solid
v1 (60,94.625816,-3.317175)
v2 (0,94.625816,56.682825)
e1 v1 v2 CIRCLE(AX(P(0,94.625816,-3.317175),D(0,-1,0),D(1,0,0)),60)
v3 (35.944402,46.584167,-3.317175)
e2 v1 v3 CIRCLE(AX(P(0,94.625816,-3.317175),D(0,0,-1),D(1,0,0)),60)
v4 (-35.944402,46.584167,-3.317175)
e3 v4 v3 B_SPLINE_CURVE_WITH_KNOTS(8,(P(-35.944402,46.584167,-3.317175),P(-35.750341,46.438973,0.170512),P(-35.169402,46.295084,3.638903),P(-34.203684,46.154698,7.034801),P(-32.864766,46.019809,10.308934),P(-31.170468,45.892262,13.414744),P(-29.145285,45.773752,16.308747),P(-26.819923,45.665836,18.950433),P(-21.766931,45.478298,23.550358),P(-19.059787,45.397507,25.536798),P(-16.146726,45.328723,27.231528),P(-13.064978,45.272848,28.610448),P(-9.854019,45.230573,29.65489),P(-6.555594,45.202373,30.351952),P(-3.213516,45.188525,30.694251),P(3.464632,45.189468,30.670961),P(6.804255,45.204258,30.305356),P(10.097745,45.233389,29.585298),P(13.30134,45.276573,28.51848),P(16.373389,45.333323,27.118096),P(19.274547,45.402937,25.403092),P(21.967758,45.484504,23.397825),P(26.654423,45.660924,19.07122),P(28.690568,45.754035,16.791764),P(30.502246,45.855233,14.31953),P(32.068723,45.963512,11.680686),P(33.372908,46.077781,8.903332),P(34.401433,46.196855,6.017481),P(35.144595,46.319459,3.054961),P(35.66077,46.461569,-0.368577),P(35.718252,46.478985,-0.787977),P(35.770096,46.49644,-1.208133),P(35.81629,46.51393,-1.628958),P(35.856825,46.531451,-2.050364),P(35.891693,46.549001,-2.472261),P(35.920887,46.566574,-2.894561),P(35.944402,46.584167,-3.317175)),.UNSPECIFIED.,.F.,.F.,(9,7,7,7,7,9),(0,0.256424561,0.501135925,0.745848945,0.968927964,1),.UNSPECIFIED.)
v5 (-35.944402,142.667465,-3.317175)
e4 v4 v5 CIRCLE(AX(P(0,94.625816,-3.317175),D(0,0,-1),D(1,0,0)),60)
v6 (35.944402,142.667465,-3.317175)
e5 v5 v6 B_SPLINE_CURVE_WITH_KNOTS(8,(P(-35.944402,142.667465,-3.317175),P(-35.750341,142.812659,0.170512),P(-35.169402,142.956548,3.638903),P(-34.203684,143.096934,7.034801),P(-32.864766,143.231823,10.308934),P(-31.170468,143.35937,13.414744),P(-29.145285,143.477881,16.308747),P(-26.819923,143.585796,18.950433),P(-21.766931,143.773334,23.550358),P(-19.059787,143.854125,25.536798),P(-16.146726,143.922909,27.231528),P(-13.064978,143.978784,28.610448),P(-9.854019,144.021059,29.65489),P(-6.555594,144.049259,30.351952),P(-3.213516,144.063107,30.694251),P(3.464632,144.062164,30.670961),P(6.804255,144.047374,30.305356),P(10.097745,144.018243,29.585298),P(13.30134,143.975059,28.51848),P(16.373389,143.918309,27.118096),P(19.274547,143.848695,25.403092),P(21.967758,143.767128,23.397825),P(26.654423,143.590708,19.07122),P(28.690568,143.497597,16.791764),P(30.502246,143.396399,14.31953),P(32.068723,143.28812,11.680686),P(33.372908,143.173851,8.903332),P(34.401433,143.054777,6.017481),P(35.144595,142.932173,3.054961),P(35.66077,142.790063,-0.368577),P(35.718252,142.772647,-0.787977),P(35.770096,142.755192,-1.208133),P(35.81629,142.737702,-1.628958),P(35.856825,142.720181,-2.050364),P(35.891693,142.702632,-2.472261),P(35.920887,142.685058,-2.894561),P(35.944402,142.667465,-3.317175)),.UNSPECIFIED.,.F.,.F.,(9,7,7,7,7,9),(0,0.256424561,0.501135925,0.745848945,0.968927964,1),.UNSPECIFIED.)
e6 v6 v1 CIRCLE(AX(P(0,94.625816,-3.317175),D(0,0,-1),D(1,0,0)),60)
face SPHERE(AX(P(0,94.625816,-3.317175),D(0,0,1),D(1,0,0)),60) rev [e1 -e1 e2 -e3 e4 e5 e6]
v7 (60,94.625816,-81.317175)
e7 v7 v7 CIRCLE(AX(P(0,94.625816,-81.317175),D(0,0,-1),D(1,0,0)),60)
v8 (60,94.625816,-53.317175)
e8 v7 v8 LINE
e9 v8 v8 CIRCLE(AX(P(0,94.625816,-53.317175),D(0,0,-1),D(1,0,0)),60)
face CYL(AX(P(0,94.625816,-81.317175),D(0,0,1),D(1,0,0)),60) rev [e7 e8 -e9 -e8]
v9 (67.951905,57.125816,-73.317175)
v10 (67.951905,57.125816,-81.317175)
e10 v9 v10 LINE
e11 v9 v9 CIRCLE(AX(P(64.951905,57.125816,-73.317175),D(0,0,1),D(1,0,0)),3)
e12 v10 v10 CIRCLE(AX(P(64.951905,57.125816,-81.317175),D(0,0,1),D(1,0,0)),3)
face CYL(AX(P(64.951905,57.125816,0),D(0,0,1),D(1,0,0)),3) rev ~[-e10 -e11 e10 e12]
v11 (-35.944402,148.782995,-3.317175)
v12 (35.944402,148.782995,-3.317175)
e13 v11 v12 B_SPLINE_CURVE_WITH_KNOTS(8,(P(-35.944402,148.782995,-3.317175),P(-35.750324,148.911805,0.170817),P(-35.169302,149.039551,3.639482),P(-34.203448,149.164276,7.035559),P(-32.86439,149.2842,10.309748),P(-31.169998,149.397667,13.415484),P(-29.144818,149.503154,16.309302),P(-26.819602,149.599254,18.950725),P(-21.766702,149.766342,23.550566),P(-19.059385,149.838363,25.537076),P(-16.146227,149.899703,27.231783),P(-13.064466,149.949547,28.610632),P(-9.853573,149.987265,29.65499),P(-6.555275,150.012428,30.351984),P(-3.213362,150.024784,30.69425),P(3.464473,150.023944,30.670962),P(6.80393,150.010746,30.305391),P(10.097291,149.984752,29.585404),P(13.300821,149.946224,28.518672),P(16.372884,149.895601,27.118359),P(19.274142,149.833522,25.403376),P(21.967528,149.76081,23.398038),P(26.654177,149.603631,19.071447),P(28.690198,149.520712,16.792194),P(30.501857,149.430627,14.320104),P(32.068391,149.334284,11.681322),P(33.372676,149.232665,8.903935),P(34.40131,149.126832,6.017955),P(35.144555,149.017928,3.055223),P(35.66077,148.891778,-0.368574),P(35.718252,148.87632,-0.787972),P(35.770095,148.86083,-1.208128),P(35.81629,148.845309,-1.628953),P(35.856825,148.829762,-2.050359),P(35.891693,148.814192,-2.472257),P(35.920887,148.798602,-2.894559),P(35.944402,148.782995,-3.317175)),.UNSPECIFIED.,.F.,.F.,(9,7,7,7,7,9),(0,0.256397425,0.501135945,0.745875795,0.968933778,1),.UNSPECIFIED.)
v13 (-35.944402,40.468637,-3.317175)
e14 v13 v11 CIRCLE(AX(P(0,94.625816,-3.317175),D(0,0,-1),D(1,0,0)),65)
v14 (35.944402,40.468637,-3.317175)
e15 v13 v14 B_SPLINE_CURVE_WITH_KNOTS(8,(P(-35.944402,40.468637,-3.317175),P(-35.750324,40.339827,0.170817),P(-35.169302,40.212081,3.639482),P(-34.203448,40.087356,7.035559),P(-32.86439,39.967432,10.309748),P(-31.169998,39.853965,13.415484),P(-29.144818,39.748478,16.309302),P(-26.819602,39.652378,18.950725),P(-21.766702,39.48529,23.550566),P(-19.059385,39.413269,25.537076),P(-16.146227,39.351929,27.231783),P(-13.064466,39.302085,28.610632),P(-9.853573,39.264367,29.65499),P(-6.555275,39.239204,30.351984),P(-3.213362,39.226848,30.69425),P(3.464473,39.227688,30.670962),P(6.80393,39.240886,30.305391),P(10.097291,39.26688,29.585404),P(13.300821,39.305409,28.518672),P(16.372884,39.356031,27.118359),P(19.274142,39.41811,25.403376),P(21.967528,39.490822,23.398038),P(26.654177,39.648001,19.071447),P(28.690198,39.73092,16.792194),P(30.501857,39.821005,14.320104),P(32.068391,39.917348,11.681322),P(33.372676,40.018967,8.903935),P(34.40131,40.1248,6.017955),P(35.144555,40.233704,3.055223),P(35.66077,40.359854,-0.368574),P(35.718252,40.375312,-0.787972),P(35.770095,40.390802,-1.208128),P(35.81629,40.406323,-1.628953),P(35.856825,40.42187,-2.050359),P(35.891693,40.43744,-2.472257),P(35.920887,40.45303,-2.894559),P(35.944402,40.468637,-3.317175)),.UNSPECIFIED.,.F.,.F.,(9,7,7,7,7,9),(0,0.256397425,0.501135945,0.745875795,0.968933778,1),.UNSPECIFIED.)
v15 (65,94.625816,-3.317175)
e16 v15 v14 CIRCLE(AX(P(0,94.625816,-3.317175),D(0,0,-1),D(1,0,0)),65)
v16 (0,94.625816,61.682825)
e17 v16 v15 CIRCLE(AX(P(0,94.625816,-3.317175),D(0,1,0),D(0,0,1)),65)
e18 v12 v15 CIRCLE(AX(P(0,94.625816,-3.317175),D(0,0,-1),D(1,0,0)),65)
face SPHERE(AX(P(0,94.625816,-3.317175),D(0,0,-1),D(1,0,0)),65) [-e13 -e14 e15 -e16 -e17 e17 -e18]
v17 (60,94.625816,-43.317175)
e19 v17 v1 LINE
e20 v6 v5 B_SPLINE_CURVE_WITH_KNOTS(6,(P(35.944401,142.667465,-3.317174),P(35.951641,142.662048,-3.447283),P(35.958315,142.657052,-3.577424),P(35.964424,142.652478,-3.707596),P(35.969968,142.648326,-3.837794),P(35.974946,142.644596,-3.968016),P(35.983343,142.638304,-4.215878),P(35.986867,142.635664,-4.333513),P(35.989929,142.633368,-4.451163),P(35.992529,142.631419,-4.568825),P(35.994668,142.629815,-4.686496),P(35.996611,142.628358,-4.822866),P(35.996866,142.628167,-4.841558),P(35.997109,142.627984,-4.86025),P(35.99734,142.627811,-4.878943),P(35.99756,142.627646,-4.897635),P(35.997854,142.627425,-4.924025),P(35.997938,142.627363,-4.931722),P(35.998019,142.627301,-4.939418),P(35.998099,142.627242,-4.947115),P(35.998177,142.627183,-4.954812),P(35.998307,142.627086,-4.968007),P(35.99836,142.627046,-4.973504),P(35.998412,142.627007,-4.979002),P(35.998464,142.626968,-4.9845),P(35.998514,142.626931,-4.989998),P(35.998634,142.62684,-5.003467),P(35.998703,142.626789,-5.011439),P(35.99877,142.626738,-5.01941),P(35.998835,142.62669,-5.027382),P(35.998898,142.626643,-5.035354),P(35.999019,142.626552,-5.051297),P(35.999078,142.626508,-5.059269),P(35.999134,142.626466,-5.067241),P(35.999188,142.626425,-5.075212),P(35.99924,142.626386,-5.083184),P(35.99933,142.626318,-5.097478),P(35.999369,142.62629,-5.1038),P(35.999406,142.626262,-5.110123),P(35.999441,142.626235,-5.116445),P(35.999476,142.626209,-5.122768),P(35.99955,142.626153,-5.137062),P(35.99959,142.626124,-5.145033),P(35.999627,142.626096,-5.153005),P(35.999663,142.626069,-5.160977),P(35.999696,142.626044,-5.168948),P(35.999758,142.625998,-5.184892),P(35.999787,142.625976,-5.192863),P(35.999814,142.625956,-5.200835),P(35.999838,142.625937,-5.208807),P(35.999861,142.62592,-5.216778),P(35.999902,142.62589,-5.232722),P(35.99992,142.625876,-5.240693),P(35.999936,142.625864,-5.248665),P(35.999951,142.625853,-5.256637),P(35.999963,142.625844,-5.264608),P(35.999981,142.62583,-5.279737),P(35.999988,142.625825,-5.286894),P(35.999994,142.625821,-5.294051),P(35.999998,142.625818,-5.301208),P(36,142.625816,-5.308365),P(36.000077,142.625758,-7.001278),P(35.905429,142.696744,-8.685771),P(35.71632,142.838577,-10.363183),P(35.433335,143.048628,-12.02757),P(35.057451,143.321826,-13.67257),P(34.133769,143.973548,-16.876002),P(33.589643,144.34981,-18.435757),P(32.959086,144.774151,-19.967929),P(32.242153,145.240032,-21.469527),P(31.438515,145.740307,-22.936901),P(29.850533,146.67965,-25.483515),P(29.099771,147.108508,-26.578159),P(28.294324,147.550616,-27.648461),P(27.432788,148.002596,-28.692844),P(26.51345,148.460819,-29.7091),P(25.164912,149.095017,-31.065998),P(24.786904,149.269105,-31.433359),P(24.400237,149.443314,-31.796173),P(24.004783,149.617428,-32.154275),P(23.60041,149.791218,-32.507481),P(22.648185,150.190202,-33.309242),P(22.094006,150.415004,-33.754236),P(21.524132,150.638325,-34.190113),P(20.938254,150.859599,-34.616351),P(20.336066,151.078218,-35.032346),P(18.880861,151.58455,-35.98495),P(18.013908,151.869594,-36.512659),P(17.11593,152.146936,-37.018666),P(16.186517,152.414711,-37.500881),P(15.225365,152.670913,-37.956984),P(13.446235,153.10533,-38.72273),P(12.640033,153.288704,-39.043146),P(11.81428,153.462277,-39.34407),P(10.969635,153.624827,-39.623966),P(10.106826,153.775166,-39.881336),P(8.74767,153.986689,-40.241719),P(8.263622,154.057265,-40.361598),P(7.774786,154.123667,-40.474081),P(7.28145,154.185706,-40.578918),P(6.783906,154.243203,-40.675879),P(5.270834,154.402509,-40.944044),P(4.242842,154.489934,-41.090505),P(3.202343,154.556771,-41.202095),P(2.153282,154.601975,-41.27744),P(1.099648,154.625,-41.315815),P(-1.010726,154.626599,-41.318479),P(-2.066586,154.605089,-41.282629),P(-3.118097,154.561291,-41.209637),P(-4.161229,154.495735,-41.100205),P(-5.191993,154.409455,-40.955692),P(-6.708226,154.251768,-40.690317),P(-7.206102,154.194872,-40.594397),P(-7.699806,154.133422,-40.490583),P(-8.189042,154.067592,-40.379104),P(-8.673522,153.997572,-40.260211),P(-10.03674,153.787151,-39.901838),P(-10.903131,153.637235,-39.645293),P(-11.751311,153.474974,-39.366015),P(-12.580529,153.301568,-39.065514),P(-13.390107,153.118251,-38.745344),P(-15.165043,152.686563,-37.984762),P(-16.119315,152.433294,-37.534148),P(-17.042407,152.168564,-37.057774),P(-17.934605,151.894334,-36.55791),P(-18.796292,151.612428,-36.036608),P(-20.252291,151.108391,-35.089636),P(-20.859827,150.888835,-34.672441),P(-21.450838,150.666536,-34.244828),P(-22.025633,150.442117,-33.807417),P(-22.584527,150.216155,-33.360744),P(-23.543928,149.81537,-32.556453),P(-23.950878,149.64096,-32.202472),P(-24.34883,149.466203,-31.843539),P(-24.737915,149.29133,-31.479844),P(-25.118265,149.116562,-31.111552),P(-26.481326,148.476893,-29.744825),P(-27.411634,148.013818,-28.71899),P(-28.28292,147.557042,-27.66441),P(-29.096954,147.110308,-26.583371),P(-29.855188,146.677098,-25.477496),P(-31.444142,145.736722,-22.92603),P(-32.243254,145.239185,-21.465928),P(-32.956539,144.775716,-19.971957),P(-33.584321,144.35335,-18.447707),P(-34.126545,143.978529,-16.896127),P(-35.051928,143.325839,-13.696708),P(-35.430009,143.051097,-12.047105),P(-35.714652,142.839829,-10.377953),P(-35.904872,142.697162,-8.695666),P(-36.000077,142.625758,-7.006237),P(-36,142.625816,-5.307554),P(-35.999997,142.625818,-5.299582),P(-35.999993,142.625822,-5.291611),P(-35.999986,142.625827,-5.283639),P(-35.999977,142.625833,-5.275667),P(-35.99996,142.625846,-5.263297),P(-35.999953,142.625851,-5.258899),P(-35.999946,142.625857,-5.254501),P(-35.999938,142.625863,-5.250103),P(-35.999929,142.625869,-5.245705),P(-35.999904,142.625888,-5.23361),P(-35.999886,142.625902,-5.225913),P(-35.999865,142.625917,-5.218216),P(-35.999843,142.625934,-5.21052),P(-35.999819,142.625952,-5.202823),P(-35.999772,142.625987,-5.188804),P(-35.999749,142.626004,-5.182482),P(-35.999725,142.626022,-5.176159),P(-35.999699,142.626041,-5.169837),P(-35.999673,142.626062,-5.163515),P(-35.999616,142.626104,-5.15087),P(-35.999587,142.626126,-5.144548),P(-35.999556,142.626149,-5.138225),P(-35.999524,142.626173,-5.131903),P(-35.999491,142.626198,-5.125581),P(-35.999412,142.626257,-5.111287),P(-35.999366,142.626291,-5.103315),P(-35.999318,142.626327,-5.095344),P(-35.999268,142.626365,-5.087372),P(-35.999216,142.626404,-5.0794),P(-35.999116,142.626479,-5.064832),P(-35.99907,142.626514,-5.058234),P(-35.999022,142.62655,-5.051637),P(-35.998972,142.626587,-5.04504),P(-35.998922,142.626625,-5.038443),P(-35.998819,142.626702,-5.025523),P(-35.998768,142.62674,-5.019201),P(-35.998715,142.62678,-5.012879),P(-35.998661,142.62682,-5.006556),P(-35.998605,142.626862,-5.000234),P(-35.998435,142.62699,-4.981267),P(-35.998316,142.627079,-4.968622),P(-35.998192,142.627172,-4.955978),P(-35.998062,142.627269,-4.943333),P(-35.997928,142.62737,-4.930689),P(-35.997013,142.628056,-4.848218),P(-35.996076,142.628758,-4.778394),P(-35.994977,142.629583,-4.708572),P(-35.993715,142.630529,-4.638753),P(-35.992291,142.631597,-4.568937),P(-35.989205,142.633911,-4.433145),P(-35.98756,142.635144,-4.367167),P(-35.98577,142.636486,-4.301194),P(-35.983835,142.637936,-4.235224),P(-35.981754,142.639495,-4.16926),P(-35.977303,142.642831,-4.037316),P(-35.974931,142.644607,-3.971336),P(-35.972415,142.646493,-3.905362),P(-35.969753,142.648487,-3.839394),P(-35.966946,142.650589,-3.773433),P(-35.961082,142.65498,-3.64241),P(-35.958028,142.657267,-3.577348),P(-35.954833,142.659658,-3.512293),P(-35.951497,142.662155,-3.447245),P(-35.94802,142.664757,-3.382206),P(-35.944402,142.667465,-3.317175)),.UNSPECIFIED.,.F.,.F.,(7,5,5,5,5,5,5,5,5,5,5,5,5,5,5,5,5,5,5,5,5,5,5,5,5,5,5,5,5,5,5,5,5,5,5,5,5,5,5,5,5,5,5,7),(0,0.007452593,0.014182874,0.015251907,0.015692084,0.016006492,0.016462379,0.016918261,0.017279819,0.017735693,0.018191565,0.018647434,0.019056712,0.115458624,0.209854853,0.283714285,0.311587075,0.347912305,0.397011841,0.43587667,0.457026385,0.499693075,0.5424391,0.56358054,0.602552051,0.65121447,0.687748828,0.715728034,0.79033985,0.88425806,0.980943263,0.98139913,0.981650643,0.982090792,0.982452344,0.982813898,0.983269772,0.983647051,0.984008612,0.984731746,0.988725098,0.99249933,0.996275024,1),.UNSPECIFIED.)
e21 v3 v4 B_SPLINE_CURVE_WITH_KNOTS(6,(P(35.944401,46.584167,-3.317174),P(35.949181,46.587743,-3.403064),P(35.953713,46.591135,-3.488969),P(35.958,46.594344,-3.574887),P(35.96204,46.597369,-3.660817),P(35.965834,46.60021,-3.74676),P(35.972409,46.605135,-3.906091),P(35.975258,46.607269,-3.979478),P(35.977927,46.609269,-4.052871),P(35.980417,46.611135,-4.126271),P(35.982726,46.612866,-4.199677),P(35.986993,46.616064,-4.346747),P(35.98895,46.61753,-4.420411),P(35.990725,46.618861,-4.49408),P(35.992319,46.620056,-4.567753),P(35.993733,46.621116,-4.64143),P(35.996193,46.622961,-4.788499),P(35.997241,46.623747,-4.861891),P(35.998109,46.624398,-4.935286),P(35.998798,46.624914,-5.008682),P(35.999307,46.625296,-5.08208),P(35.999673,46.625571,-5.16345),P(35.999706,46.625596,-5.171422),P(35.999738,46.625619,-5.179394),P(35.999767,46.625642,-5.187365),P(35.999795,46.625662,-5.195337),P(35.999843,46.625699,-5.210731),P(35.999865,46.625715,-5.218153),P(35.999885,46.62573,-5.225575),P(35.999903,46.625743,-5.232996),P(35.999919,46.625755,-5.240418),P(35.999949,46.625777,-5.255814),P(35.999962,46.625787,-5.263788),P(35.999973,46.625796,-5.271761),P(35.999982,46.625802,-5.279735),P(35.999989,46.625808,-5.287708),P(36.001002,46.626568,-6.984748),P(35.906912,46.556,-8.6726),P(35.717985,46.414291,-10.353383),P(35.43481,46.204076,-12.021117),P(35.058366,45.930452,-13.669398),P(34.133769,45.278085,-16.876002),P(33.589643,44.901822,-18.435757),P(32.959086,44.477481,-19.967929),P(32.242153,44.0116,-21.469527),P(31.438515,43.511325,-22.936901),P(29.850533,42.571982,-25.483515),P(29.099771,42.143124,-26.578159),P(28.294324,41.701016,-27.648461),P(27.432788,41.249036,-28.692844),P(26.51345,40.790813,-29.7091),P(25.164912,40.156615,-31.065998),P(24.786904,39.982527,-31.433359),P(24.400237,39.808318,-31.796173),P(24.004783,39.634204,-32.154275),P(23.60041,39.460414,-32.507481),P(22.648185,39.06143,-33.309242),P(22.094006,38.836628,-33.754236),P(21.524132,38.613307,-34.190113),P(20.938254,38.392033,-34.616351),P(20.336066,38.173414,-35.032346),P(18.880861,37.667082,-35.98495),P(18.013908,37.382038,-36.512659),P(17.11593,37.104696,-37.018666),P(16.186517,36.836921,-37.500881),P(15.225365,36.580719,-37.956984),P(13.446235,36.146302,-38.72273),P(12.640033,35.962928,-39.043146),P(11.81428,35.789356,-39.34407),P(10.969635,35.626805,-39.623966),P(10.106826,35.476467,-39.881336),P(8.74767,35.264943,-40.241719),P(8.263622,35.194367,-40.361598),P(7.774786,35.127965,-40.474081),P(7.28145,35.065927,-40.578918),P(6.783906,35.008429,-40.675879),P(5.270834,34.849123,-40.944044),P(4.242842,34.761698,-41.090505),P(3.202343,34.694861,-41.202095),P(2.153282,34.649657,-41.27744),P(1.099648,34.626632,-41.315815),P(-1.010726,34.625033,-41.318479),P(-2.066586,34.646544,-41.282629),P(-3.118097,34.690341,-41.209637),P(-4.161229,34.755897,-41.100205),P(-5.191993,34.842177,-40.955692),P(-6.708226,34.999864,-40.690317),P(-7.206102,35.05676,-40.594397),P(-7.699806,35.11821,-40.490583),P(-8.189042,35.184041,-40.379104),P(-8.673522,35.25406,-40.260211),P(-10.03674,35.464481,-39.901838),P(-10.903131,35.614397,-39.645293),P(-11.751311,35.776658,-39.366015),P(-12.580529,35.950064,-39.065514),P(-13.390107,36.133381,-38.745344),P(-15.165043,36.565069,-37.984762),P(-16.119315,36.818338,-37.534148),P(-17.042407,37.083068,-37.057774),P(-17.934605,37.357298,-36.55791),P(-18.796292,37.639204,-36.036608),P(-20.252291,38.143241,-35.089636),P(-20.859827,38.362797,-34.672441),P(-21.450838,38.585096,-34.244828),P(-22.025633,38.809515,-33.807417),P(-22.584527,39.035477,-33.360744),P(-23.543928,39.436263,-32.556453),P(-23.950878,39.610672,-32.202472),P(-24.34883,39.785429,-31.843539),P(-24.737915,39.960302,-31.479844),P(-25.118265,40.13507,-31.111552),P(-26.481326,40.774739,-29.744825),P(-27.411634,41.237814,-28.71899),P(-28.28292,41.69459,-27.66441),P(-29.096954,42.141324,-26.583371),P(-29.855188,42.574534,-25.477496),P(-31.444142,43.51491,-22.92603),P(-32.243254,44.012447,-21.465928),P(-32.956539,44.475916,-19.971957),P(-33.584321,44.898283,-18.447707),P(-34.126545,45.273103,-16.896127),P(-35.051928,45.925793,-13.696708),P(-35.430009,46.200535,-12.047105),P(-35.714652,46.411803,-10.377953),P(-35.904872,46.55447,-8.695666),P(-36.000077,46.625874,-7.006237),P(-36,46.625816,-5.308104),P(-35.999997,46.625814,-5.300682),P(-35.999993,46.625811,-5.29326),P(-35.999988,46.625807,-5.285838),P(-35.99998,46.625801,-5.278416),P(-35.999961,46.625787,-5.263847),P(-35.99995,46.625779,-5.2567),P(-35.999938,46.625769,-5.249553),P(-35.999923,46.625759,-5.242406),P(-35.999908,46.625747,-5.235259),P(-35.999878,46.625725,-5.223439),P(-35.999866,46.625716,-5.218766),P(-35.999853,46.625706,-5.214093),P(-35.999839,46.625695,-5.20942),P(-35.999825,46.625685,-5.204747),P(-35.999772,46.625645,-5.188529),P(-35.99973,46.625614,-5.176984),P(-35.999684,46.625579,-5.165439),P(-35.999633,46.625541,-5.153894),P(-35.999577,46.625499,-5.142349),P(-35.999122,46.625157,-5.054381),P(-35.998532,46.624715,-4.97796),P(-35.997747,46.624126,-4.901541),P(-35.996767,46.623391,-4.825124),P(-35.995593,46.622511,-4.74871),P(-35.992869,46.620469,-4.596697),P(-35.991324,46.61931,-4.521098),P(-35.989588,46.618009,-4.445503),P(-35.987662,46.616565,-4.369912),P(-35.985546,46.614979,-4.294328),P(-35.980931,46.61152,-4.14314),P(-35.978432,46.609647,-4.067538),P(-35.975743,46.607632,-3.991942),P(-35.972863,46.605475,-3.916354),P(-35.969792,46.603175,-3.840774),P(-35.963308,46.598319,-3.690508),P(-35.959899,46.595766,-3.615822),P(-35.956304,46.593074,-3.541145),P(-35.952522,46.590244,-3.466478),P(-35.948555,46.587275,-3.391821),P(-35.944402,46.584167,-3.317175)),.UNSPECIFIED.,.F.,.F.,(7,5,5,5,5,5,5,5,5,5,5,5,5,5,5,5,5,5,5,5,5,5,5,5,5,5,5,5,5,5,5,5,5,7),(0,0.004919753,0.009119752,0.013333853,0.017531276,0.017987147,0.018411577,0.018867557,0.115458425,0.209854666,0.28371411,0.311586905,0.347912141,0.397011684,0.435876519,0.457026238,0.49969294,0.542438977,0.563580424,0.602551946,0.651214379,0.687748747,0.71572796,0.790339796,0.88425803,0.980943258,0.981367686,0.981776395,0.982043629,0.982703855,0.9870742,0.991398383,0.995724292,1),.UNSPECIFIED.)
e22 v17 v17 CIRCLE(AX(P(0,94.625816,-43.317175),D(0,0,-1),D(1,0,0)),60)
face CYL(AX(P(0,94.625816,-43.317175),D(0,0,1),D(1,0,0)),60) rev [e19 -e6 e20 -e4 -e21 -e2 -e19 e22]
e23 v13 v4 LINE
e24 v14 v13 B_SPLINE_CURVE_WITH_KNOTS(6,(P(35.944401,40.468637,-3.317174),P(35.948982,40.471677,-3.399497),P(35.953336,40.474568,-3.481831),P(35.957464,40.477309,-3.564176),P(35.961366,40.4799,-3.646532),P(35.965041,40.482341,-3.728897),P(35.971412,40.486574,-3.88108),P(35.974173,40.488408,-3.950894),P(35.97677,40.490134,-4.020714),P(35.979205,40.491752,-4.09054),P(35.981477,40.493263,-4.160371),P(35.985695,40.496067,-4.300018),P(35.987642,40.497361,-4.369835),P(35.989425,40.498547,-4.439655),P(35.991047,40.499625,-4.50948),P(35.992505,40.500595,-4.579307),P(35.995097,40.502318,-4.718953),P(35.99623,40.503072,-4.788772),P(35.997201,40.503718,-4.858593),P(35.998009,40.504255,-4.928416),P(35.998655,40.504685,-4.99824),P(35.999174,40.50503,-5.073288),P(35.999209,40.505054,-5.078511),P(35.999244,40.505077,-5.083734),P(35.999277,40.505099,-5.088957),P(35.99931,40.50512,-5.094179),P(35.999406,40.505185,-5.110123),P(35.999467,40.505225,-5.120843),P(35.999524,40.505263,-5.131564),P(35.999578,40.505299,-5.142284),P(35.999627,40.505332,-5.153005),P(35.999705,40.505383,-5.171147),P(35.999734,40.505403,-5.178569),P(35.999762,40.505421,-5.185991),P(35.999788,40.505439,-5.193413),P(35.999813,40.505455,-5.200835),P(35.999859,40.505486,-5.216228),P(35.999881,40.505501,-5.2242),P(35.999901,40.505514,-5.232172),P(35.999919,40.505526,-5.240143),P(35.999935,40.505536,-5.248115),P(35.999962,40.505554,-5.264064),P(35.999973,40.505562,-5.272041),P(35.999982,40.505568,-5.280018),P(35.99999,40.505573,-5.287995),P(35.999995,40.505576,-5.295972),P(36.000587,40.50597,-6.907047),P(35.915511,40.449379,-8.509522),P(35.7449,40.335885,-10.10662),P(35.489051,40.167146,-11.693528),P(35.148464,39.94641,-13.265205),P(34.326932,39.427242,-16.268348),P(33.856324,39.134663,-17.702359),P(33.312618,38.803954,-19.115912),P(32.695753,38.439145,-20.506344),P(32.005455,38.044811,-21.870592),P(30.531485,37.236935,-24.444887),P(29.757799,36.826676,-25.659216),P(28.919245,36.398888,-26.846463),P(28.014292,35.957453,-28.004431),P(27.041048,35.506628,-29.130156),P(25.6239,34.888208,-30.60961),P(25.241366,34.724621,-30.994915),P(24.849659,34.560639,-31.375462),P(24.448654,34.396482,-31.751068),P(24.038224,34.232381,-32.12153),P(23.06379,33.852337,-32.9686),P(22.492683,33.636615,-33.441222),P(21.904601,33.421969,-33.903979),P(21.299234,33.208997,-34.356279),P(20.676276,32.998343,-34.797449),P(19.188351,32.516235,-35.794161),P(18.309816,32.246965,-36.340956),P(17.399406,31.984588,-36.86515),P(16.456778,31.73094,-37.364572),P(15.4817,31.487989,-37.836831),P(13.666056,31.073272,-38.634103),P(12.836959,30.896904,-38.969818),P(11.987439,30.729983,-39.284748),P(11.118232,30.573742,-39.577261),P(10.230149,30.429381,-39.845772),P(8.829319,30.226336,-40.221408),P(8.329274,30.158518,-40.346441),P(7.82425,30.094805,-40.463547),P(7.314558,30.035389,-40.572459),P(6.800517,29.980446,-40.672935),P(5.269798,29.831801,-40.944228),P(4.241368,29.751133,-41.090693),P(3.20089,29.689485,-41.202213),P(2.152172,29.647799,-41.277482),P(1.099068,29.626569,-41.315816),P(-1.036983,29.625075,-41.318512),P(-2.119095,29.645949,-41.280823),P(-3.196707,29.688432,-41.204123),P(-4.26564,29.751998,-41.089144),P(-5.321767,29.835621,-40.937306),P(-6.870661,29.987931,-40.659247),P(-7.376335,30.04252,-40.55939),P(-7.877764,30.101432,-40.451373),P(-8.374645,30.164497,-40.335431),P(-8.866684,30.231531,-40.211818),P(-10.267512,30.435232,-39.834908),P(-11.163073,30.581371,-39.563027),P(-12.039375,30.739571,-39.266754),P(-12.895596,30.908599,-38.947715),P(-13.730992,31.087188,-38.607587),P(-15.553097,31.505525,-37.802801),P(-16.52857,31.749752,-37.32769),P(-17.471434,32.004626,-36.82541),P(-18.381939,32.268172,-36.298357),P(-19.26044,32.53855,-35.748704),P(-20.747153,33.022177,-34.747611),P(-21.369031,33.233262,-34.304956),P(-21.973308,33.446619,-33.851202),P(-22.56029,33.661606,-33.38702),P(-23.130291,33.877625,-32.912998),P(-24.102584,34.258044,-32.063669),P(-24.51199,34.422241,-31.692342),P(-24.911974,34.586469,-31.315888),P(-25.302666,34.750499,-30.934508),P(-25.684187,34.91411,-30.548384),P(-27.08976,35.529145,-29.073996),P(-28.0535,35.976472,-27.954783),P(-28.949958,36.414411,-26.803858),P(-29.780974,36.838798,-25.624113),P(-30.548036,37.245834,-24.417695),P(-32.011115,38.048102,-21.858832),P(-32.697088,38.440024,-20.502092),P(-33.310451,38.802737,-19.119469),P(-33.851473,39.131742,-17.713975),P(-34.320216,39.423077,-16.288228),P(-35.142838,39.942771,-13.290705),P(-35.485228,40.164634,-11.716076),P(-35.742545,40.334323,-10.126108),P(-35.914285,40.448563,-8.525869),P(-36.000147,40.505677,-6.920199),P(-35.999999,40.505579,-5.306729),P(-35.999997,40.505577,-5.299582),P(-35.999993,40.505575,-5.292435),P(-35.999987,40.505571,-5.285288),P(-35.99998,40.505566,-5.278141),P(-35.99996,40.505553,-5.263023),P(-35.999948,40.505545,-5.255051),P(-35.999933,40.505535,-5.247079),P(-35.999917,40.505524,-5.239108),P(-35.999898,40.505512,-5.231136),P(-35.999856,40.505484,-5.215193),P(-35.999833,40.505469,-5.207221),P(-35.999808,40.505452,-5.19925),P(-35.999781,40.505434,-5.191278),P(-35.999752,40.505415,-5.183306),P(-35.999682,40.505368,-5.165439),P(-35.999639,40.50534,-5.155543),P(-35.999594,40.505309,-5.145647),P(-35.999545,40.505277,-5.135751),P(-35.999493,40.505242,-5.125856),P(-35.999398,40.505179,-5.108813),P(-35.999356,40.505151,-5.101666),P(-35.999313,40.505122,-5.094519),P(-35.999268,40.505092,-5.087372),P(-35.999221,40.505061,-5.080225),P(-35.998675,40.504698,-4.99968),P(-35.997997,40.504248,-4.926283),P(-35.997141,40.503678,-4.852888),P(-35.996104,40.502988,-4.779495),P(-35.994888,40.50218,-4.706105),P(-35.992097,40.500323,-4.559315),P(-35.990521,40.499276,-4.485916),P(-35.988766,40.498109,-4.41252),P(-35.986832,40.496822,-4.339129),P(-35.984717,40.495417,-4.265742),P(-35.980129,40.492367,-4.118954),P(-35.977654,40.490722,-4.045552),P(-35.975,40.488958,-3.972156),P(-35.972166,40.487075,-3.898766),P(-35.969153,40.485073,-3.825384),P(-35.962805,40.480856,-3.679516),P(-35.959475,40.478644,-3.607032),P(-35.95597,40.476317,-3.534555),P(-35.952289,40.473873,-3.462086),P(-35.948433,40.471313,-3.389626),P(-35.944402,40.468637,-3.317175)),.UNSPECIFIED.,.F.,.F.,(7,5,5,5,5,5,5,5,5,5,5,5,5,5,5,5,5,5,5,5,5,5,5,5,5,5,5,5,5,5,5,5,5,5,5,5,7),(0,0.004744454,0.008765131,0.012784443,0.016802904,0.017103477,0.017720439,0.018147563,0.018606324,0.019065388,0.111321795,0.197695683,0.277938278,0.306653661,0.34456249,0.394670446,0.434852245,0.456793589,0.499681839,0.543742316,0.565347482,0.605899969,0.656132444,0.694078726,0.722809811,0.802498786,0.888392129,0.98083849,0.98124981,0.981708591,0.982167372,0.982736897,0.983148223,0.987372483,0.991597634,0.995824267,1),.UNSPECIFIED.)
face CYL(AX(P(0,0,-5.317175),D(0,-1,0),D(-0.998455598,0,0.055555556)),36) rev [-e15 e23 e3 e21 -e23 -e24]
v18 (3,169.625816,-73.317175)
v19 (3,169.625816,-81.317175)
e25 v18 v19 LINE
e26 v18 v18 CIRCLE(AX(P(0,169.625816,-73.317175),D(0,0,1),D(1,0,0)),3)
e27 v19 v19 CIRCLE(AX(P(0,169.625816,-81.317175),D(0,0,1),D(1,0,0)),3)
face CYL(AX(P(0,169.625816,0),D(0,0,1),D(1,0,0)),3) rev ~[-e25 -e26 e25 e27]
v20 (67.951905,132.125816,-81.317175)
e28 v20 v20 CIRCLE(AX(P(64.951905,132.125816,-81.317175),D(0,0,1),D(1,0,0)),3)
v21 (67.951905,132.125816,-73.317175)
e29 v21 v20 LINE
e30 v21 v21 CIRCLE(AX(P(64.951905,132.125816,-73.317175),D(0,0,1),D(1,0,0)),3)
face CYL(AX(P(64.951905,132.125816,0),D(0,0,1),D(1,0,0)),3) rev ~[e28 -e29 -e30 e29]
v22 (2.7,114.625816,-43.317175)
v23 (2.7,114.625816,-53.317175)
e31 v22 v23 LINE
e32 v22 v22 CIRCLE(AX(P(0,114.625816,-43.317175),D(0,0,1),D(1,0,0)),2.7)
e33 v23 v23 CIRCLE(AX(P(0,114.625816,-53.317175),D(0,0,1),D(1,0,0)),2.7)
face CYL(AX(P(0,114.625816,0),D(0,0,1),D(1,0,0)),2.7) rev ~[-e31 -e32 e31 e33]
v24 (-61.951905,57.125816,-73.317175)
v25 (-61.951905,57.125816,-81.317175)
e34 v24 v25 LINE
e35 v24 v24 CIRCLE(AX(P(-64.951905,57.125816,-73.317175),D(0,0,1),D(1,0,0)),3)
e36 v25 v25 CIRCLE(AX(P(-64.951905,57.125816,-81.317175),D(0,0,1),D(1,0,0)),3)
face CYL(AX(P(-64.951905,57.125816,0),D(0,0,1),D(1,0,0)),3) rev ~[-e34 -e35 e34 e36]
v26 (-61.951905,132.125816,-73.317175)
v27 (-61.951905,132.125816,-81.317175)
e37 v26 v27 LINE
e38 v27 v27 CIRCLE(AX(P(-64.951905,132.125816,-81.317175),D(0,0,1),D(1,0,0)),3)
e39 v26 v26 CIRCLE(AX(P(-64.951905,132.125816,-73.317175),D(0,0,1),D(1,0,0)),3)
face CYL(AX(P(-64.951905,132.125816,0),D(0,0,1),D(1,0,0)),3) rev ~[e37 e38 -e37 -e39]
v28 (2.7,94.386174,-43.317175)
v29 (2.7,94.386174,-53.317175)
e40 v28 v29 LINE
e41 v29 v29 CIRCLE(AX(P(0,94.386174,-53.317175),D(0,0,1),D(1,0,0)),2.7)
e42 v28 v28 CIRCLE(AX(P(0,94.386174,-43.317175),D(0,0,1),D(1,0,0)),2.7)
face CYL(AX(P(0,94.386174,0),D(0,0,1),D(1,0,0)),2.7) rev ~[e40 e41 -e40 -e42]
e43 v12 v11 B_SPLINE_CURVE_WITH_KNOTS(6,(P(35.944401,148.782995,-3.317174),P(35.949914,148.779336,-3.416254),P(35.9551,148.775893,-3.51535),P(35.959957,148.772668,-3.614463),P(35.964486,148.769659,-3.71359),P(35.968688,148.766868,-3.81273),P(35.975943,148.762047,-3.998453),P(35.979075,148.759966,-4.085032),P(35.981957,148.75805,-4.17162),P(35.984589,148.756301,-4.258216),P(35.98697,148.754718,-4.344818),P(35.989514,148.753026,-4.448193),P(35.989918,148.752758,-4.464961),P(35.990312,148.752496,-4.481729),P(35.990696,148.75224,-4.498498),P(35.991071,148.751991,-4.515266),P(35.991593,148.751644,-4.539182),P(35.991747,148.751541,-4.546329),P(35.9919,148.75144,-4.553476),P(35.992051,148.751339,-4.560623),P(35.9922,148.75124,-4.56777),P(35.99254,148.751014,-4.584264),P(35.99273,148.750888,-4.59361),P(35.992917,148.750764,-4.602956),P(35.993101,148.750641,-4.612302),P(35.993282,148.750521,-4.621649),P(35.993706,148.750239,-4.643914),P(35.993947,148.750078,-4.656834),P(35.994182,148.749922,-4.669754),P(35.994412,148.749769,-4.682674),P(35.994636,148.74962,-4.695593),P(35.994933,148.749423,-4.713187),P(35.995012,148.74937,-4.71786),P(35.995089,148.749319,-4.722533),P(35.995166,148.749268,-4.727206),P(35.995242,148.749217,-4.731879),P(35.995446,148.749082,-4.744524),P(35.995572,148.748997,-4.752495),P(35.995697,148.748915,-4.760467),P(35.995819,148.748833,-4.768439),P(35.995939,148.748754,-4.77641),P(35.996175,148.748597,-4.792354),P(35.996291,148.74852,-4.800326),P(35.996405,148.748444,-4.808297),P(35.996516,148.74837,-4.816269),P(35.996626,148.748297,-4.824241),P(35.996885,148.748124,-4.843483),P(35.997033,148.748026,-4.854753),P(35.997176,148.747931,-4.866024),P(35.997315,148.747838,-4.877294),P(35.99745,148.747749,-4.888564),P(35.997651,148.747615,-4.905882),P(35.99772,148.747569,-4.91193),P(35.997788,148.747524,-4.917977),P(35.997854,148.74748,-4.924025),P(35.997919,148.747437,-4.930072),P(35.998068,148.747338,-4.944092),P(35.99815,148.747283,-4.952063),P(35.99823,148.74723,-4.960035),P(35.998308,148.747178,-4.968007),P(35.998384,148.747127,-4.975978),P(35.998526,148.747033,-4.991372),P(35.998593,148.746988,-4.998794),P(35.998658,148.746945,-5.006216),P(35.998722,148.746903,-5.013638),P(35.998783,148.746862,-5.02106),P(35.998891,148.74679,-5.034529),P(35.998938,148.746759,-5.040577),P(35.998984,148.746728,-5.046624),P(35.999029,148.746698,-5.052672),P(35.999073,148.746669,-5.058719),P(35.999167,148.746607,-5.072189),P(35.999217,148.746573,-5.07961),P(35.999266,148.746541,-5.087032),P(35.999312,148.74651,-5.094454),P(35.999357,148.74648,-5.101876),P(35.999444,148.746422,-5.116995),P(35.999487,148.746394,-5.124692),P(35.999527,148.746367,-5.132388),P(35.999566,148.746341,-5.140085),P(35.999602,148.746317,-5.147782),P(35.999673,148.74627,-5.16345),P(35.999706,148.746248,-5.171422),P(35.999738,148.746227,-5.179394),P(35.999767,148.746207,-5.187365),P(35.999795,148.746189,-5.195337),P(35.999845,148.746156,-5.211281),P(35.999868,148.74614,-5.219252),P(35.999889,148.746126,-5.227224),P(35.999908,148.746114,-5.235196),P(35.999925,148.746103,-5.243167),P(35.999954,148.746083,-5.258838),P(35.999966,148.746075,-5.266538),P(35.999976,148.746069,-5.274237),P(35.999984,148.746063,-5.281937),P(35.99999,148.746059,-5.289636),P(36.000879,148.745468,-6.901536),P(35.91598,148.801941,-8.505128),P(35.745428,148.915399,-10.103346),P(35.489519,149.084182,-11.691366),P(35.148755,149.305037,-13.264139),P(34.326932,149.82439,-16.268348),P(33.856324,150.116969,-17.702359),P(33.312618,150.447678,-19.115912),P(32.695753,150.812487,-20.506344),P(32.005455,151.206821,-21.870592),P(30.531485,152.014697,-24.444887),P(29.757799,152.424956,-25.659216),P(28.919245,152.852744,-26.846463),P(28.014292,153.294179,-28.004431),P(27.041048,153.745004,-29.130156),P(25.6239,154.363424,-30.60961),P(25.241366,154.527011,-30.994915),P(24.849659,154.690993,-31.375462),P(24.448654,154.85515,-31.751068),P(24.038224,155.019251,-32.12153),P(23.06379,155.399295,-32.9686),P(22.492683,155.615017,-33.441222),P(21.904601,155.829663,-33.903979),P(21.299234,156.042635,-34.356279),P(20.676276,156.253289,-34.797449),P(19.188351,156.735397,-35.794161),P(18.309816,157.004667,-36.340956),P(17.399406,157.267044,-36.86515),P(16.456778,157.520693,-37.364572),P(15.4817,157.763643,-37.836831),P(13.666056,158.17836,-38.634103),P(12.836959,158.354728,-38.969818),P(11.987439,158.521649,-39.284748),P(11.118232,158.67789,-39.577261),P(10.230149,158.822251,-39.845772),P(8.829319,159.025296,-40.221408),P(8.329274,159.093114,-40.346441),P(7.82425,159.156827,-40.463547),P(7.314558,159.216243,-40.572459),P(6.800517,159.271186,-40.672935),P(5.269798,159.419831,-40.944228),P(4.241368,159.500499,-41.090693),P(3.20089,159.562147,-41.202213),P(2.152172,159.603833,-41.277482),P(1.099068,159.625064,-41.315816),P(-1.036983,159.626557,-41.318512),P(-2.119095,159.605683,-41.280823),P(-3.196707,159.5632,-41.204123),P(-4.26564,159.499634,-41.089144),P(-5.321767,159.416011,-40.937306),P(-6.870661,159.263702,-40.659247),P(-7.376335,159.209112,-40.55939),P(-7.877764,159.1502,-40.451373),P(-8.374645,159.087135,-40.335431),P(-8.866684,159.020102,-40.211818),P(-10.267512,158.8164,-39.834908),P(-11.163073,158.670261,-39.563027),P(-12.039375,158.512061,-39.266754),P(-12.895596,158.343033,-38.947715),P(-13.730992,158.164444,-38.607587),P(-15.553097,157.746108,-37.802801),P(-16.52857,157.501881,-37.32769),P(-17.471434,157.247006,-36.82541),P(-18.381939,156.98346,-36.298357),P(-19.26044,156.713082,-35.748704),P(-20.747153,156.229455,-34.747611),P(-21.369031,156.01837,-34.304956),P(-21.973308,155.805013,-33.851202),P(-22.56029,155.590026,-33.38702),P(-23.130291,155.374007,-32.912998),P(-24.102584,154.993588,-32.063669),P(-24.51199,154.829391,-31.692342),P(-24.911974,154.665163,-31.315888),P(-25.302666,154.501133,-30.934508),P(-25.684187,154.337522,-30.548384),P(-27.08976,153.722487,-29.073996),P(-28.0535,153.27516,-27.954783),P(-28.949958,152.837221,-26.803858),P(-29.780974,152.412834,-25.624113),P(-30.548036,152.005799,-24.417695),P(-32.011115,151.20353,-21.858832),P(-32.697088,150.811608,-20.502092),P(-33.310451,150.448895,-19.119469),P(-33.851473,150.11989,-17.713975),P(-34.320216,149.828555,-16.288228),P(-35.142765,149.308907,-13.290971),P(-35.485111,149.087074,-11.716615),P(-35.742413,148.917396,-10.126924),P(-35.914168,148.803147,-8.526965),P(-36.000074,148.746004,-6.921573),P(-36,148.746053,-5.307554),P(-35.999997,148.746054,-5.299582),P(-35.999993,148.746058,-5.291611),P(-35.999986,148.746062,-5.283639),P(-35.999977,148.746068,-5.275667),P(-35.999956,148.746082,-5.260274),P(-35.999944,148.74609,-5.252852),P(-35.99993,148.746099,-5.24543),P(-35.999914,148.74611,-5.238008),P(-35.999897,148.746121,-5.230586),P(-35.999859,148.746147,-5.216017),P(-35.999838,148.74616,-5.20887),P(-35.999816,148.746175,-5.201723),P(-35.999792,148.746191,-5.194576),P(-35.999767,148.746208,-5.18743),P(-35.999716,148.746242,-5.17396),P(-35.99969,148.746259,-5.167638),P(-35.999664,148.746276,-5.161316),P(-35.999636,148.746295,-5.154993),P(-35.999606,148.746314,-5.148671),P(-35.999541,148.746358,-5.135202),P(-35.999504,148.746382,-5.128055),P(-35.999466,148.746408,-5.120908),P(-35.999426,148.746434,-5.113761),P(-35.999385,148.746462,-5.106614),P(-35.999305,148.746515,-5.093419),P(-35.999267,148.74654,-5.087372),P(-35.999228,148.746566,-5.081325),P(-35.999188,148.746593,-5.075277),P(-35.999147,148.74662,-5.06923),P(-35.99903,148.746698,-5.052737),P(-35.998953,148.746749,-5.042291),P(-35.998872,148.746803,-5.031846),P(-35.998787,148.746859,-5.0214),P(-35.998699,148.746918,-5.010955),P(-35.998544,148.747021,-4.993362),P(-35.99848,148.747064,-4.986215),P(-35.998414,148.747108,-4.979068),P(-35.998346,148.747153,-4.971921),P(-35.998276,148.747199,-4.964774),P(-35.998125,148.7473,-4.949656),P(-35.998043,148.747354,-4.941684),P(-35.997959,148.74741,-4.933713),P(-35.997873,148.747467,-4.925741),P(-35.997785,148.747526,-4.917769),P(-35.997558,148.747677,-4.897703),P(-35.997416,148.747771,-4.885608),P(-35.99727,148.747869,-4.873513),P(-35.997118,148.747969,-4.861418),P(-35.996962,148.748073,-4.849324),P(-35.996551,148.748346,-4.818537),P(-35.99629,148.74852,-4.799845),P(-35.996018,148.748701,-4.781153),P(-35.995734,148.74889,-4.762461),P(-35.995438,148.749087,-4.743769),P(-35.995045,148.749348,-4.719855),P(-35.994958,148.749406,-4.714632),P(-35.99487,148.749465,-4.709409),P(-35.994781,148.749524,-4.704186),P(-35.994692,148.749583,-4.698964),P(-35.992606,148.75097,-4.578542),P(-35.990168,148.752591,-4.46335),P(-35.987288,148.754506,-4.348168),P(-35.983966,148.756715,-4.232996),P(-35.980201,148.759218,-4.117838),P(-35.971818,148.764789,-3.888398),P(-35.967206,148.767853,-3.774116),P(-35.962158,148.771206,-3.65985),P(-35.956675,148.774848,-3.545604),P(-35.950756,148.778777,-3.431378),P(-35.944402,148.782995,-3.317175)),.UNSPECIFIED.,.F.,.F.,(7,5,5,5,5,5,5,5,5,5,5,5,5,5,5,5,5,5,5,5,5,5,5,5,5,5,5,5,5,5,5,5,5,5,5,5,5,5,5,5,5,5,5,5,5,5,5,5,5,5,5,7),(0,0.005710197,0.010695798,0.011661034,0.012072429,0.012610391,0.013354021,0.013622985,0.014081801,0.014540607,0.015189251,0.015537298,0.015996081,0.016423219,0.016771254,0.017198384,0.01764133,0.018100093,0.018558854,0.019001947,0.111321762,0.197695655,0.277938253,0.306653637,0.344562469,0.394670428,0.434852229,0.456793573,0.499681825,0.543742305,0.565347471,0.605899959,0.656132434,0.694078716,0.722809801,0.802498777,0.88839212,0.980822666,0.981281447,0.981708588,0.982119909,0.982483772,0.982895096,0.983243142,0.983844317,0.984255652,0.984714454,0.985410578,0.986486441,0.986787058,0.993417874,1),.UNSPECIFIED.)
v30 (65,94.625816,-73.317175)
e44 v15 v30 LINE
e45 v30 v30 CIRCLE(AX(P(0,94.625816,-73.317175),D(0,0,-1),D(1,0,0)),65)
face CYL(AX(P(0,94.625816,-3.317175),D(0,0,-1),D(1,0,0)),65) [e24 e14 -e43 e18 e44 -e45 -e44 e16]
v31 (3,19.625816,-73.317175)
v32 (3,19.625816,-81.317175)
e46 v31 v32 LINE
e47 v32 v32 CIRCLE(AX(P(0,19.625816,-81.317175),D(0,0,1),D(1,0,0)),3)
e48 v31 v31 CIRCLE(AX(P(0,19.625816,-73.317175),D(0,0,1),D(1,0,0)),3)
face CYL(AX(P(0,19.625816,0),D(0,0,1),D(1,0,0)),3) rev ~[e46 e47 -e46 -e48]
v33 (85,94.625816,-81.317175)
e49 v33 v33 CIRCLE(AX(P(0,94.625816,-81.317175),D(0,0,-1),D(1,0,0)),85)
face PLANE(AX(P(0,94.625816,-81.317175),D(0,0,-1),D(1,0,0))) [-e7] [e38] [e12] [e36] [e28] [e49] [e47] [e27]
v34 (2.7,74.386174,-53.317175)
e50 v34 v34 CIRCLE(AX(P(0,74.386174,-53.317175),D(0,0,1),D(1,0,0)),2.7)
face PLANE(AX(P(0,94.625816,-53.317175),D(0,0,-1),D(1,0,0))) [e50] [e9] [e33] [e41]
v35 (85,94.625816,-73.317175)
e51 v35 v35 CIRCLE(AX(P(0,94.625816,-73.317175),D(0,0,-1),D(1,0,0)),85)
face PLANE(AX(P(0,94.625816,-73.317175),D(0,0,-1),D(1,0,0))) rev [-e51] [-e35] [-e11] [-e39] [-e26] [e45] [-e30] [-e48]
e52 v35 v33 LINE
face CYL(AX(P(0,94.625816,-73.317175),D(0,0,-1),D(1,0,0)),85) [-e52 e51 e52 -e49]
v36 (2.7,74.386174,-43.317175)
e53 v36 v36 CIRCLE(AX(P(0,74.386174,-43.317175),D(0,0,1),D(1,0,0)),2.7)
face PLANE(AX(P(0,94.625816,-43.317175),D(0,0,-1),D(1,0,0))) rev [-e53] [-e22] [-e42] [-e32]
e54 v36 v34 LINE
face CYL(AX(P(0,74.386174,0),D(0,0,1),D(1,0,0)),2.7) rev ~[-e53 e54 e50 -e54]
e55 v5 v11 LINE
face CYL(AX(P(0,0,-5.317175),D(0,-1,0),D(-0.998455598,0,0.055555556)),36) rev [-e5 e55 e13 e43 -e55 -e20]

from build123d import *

# Parameters (mm, degrees)
SKETCH_5_R          = 36
CUT_EXTRUDE_1_DEPTH = 191
SKETCH_6_R          = 3
CUT_EXTRUDE_3_DEPTH = 225
SKETCH_7_R          = 2.7
CUT_EXTRUDE_4_DEPTH = 111


with BuildPart() as part:
    # 草图1 → 旋转6 (revolve)
    with BuildSketch(Plane(origin=(0, 0, 0), x_dir=(0, 0, -1), z_dir=(1, 0, 0)), mode=Mode.PRIVATE) as revolve_6_sk:
        with BuildLine():
            Line((3.317174788, 159.625816033), (43.317174788, 159.625816033))
            Line((43.317174788, 159.625816033), (73.317174788, 159.625816033))
            Line((73.317174788, 159.625816033), (73.317174788, 179.625816033))
            Line((73.317174788, 179.625816033), (81.317174788, 179.625816033))
            Line((81.317174788, 179.625816033), (81.317174788, 154.625816033))
            Line((81.317174788, 154.625816033), (73.317174788, 154.625816033))
            Line((73.317174788, 154.625816033), (53.317174788, 154.625816033))
            Line((53.317174788, 154.625816033), (53.317174788, 94.625816033))
            Line((53.317174788, 94.625816033), (43.317174788, 94.625816033))
            Line((43.317174788, 94.625816033), (43.317174788, 154.625816033))
            Line((43.317174788, 154.625816033), (3.317174788, 154.625816033))
            ThreePointArc((3.317174788, 154.625816033), (-39.109232083, 137.052222904), (-56.682825212, 94.625816033))
            Line((-56.682825212, 94.625816033), (-61.682825212, 94.625816033))
            ThreePointArc((-61.682825212, 94.625816033), (-42.644765989, 140.58775681), (3.317174788, 159.625816033))
        make_face()
    revolve(revolve_6_sk.sketch.rotate(Axis((0, 94.625816033, -43.317174788), (0, 0, -1)), 90), axis=Axis((0, 94.625816033, -43.317174788), (0, 0, -1)))

    # 草图5 → 切除-拉伸1 (cut)
    with BuildSketch(Plane(origin=(0, 0, 0), x_dir=(1, 0, 0), z_dir=(0, 1, 0))):
        with Locations(Location((0, 5.317174788, 0), (0, 0, 183.184738537))):
            Circle(SKETCH_5_R)
    extrude(amount=CUT_EXTRUDE_1_DEPTH, mode=Mode.SUBTRACT)

    # 草图6 → 切除-拉伸3 (cut)
    with BuildSketch(Plane.XY):
        with Locations((0, 169.625816033)):
            Circle(SKETCH_6_R)
        with Locations((0, 19.625816033)):
            Circle(SKETCH_6_R)
        with Locations((64.951905284, 132.125816033)):
            Circle(SKETCH_6_R)
        with Locations((64.951905284, 57.125816033)):
            Circle(SKETCH_6_R)
        with Locations((-64.951905284, 132.125816033)):
            Circle(SKETCH_6_R)
        with Locations((-64.951905284, 57.125816033)):
            Circle(SKETCH_6_R)
    extrude(amount=-CUT_EXTRUDE_3_DEPTH, mode=Mode.SUBTRACT)

    # 草图7 → 切除-拉伸4 (cut)
    with BuildSketch(Plane.XY):
        with Locations((0, 94.386174491)):
            Circle(SKETCH_7_R)
        with Locations((0, 114.625816033)):
            Circle(SKETCH_7_R)
        with Locations((0, 74.386174491)):
            Circle(SKETCH_7_R)
    extrude(amount=-CUT_EXTRUDE_4_DEPTH, mode=Mode.SUBTRACT)


solid = part.part
